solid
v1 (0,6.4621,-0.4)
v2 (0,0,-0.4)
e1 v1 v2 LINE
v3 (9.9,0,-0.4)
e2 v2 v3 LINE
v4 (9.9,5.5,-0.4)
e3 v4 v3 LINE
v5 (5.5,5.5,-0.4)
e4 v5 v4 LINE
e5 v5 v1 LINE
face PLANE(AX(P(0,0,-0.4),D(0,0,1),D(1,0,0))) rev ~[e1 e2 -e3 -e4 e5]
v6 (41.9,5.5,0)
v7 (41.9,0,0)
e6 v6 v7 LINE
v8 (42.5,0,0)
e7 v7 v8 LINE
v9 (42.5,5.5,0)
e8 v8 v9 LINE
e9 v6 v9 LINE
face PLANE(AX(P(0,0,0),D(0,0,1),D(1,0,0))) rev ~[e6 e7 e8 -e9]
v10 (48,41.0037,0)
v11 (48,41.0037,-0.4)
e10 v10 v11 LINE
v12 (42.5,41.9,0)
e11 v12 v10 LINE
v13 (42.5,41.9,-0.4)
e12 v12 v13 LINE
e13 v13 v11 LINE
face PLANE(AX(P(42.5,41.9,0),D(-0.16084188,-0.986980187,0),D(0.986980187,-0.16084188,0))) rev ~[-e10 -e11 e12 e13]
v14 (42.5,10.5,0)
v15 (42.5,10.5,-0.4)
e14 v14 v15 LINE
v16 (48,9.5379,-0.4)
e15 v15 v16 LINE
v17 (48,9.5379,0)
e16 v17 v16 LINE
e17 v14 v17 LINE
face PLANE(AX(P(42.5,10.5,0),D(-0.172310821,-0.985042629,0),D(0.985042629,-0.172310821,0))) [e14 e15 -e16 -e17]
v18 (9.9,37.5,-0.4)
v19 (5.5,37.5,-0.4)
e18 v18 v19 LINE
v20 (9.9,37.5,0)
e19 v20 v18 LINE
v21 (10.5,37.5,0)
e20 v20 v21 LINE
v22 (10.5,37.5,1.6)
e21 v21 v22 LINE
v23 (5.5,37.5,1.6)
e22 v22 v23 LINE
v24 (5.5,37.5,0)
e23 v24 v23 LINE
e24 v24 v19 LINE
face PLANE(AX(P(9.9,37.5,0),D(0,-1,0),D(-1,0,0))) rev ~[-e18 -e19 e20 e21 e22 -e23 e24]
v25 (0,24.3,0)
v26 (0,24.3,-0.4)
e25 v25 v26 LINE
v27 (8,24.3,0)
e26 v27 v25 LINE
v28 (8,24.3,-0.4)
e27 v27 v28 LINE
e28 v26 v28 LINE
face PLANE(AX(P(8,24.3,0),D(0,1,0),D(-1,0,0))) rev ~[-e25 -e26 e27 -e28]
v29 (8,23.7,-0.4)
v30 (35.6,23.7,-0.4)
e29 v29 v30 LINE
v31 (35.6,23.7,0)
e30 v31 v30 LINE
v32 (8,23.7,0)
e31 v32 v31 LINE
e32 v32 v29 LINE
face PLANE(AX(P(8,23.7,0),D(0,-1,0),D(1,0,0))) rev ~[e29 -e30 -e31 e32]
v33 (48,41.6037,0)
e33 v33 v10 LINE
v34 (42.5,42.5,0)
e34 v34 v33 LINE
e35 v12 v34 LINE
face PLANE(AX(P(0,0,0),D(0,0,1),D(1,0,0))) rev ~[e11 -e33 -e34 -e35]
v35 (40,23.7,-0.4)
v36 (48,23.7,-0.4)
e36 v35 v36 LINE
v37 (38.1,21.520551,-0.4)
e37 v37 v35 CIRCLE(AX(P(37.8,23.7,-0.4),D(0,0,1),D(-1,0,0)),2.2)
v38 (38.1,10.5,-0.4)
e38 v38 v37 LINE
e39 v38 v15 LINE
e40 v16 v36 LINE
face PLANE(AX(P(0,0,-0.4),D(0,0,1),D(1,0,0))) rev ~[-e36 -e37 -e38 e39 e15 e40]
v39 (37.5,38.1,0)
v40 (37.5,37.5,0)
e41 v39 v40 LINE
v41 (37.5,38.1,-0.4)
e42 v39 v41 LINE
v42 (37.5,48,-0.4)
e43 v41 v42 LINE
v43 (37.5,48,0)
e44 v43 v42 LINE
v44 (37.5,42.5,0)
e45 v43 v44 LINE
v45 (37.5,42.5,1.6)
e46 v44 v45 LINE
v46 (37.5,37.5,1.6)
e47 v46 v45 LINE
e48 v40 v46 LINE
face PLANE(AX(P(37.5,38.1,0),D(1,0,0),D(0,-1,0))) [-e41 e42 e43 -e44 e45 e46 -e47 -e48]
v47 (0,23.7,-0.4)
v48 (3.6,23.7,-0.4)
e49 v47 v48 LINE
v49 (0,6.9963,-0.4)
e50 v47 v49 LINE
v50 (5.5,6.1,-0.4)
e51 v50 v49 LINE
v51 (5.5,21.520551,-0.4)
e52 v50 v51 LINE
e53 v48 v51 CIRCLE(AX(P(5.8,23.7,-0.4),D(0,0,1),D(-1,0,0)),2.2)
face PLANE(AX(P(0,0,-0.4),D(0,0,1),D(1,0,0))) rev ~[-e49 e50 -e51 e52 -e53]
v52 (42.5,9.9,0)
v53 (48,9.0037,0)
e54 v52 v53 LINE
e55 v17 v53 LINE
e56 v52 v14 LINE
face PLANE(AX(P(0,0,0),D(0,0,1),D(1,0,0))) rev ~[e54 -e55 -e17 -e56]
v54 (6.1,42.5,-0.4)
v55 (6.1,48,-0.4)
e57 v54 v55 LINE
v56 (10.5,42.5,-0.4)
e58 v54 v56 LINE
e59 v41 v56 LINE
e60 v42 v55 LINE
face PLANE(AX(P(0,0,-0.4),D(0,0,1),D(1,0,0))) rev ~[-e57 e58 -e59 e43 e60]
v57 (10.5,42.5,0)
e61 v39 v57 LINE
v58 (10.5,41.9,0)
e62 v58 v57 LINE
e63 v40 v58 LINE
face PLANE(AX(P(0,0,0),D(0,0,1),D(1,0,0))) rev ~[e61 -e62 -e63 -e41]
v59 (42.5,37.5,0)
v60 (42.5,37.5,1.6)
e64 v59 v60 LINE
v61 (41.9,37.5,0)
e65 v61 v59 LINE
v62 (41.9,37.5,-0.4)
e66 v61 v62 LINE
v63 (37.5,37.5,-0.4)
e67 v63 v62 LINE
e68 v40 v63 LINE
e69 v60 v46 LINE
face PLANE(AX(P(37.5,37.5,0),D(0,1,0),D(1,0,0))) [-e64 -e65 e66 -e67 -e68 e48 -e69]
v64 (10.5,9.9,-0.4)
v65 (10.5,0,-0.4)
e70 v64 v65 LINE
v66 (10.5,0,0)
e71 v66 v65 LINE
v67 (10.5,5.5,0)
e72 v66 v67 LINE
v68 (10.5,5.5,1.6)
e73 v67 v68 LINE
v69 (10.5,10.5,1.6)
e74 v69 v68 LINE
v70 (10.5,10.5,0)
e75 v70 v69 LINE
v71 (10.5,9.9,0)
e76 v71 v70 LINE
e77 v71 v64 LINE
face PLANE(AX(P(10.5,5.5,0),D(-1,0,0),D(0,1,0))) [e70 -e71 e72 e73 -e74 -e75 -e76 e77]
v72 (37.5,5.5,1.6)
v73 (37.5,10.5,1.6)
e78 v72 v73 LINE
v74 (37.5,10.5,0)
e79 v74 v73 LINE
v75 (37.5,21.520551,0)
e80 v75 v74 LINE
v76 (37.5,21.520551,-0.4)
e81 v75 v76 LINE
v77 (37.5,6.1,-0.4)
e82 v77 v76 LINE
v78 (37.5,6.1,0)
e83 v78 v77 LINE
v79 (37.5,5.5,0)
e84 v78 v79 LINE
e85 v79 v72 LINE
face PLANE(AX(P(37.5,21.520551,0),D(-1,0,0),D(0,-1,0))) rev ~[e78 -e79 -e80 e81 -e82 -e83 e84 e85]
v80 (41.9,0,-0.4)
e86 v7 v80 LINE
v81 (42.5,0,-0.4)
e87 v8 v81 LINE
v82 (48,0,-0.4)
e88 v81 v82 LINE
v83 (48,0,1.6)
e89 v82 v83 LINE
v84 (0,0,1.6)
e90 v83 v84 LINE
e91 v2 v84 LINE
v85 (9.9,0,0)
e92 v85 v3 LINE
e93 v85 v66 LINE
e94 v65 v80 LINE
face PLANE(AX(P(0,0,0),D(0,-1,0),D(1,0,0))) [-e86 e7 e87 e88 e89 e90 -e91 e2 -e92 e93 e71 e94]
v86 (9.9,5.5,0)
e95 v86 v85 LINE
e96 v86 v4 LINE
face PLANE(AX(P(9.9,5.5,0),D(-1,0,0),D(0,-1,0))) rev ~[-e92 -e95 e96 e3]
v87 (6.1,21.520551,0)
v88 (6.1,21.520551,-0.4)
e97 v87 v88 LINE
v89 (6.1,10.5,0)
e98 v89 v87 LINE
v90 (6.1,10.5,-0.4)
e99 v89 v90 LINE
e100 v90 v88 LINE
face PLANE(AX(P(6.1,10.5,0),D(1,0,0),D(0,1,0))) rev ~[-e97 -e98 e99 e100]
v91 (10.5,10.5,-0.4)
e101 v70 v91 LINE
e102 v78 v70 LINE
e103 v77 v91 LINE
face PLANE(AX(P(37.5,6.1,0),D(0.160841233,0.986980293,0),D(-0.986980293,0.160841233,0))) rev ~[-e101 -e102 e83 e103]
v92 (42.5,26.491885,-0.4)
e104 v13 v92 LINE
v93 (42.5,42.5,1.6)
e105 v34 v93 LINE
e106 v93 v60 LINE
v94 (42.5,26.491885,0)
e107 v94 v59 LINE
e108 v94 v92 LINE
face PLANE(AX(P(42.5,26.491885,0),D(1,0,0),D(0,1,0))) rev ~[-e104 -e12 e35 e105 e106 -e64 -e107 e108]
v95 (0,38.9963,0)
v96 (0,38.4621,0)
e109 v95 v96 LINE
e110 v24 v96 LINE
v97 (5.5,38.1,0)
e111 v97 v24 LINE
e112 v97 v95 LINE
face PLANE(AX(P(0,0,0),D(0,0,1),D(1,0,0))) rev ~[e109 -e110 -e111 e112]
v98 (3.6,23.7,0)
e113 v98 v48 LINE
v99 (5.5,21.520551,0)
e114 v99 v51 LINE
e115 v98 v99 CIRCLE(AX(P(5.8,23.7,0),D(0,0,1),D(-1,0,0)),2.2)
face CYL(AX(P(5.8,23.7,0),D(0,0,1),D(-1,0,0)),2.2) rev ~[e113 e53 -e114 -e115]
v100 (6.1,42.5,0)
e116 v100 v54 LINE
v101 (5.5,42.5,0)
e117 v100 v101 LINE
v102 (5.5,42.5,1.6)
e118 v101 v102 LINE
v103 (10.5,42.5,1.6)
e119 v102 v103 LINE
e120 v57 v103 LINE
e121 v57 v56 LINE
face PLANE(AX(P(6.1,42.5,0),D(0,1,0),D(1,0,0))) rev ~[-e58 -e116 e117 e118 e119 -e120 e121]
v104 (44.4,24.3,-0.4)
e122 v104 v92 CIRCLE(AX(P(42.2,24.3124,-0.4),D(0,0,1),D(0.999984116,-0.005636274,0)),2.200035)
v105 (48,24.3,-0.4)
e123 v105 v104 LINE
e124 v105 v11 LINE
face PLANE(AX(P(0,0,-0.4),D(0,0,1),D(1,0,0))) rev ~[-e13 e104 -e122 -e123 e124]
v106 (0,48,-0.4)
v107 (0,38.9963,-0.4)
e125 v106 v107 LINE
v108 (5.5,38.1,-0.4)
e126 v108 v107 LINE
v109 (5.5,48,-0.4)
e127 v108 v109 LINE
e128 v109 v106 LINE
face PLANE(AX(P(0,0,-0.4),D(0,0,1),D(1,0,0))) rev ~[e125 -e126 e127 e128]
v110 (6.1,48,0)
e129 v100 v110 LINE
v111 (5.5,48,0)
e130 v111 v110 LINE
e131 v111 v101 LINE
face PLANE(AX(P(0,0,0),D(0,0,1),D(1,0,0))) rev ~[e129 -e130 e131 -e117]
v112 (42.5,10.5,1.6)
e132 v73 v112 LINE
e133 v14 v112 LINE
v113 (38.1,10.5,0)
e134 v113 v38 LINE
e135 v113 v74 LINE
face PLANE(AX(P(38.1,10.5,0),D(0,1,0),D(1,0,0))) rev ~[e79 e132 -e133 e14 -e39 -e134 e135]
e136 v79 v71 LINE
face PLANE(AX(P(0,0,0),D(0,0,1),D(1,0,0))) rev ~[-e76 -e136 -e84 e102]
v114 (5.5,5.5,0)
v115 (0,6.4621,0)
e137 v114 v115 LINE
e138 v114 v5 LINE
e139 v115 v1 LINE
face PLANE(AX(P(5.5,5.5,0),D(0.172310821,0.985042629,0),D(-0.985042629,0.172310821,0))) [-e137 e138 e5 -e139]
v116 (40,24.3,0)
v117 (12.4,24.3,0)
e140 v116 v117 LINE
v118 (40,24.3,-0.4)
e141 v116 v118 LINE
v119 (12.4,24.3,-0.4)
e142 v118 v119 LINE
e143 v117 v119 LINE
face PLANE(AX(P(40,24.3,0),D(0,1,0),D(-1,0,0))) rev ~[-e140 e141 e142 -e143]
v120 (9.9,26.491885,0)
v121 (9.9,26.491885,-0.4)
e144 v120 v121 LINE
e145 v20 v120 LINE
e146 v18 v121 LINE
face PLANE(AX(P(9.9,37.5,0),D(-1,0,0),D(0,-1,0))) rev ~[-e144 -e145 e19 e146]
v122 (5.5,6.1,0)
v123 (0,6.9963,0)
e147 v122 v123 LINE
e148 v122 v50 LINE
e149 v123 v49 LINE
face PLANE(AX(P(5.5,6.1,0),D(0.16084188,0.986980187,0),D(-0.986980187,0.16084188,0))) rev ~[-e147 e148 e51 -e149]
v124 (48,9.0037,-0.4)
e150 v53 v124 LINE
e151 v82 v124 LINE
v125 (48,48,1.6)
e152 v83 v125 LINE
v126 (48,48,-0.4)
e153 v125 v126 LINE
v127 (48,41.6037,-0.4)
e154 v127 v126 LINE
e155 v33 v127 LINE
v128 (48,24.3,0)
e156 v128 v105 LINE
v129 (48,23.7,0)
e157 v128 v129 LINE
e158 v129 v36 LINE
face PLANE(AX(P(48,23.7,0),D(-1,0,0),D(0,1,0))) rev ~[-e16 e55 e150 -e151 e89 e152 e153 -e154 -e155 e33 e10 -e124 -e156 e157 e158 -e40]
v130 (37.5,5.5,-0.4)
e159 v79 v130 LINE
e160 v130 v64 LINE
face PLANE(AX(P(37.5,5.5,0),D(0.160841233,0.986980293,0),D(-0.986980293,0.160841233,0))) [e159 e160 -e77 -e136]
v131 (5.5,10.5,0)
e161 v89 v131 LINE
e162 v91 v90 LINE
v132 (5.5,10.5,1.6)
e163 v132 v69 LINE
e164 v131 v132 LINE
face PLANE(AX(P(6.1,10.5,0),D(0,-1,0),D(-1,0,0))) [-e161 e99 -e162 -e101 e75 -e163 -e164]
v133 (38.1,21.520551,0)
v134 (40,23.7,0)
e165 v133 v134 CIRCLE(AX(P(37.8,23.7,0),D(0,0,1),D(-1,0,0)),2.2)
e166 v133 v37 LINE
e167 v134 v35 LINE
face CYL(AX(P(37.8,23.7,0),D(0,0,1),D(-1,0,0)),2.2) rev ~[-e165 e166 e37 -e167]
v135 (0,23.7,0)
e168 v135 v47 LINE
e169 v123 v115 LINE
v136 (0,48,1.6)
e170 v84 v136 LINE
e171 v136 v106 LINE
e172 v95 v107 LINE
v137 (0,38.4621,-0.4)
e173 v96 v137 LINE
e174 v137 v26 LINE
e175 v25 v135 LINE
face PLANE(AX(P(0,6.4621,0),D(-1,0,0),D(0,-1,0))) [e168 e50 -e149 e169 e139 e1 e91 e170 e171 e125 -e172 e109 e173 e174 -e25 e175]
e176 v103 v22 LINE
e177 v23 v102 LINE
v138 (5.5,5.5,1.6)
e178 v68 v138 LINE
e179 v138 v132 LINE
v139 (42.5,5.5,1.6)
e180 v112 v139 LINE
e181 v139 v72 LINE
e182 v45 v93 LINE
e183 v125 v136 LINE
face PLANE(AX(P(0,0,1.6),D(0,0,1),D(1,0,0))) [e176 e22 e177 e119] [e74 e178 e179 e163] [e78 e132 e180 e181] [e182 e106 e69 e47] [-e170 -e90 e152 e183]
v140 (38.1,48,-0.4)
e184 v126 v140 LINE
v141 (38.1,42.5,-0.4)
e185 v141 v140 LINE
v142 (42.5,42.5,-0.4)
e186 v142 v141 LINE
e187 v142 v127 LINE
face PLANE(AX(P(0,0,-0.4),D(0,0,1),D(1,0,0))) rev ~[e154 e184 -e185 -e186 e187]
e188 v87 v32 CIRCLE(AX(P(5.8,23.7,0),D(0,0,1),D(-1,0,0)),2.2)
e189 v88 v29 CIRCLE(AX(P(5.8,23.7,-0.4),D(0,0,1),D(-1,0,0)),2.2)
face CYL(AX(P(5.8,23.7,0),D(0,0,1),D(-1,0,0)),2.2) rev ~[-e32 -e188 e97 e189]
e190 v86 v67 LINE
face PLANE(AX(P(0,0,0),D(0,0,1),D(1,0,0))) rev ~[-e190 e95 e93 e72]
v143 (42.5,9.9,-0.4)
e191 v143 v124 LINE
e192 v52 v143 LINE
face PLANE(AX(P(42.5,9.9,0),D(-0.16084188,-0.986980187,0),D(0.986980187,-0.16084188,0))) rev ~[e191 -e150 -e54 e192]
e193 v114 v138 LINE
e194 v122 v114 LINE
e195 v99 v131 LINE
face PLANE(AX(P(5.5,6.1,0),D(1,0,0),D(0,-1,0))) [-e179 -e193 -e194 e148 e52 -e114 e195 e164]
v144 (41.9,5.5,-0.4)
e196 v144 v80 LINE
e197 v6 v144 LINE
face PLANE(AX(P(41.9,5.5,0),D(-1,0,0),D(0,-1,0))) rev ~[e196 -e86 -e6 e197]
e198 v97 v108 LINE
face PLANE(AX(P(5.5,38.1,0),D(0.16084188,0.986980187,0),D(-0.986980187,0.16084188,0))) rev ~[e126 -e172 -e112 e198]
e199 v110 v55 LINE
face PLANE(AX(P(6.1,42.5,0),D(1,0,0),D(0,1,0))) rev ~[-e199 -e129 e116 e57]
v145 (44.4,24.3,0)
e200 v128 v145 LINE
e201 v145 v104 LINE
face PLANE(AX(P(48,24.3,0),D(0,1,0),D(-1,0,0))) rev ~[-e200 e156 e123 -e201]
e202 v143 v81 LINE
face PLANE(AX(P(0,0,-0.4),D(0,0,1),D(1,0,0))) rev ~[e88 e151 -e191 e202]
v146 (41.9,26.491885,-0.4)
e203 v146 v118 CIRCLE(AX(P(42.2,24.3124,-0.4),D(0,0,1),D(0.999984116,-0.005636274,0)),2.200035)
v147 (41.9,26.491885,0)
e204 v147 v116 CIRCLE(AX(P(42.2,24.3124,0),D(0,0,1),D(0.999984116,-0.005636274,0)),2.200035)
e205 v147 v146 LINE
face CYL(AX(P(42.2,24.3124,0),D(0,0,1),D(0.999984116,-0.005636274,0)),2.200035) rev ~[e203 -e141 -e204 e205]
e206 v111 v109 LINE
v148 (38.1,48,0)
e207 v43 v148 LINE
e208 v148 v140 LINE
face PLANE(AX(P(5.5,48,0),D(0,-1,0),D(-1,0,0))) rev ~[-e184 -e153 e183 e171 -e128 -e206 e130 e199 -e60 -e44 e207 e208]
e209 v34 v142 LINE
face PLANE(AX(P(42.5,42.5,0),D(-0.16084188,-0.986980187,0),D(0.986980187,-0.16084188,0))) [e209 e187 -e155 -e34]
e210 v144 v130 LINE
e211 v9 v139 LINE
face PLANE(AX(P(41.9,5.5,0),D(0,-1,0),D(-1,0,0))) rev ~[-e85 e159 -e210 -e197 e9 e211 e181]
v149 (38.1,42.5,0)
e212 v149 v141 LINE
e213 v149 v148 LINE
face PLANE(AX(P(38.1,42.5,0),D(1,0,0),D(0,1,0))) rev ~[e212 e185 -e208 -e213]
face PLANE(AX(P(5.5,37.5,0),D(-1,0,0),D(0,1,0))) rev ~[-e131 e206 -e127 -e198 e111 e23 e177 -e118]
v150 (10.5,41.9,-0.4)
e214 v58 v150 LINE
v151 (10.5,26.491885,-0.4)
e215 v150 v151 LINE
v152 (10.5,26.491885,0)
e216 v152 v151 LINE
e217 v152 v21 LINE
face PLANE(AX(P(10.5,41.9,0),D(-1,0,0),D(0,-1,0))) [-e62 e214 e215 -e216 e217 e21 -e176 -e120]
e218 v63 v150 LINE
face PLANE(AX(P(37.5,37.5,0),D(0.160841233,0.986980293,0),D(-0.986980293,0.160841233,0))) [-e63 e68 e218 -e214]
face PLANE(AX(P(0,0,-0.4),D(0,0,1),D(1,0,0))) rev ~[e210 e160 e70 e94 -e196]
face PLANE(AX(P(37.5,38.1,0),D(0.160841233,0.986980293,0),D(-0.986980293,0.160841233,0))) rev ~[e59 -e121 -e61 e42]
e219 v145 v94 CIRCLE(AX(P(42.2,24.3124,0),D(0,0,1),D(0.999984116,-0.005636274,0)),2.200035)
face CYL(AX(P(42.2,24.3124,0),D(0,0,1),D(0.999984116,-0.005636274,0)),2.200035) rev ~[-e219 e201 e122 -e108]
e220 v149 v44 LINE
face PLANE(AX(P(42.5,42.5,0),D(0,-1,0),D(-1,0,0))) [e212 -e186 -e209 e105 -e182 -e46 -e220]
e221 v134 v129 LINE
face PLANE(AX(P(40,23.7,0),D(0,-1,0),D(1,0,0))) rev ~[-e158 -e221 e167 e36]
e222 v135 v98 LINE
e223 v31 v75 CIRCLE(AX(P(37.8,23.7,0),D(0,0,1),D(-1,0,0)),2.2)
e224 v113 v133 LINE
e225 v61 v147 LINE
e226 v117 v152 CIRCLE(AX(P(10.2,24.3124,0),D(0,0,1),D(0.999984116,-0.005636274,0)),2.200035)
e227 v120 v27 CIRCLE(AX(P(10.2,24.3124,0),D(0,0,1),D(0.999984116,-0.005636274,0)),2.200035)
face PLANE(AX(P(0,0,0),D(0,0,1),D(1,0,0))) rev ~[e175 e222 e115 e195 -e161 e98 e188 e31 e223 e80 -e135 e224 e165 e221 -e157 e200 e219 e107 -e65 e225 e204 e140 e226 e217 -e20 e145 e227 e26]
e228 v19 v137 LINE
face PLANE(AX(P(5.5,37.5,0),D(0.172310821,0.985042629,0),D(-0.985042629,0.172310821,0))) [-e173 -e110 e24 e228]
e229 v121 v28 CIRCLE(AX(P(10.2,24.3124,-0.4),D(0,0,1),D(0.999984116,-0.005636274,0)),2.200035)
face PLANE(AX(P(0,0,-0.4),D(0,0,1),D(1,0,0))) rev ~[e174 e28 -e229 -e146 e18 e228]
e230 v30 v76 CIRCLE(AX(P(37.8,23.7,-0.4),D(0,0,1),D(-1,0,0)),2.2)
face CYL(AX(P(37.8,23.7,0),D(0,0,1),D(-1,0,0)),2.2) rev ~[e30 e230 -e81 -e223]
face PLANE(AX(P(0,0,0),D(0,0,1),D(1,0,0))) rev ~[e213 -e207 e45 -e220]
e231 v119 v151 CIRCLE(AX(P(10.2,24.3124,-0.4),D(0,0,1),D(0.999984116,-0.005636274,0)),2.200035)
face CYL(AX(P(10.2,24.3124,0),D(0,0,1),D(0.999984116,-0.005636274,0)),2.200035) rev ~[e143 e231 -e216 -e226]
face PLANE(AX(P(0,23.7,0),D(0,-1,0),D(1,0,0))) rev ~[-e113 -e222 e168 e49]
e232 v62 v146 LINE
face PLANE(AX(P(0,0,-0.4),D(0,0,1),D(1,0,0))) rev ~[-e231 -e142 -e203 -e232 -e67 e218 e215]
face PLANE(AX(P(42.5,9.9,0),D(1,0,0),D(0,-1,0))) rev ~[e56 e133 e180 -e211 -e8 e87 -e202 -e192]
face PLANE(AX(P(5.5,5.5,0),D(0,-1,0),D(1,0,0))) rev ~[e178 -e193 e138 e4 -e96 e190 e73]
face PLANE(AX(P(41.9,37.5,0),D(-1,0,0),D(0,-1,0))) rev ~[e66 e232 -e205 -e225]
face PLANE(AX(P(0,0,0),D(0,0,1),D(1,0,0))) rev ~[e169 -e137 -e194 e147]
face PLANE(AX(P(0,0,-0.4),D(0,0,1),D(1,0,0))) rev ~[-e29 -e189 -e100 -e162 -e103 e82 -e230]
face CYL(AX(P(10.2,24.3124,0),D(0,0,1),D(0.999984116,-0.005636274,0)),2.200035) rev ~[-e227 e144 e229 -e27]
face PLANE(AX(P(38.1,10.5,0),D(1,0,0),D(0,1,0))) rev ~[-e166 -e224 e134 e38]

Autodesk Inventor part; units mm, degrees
ref_plane "YZ Plane" through (0, 0, 0) normal (1, 0, 0) x (0, 1, 0)
ref_plane "XZ Plane" through (0, 0, 0) normal (0, 1, 0) x (-1, 0, 0)
ref_plane "XY Plane" through (0, 0, 0) normal (0, 0, 1) x (1, 0, 0)
sketch "Sketch1" plane through (0, 0, 0) normal (0, 0, 1) x (1, 0, 0)
  line L0 (0, 0) -> (48, 0)
  line L1 (48, 0) -> (48, 48)
  line L2 (48, 48) -> (0, 48)
  line L3 (0, 48) -> (0, 0)
  line L4 (10.5, 10.5) -> (5.5, 10.5)
  line L5 (5.5, 10.5) -> (5.5, 5.5)
  line L6 (5.5, 5.5) -> (10.5, 5.5)
  line L7 (10.5, 5.5) -> (10.5, 10.5)
  line L8 (10.5, 10.5) -> (5.5, 5.5) construction
  line L9 (5.5, 10.5) -> (10.5, 5.5) construction
  line L10 (5.5, 42.5) -> (10.5, 42.5)
  line L11 (10.5, 42.5) -> (10.5, 37.5)
  line L12 (10.5, 37.5) -> (5.5, 37.5)
  line L13 (5.5, 37.5) -> (5.5, 42.5)
  line L14 (5.5, 42.5) -> (10.5, 37.5) construction
  line L15 (10.5, 42.5) -> (5.5, 37.5) construction
  line L16 (42.5, 5.5) -> (37.5, 5.5)
  line L17 (37.5, 5.5) -> (37.5, 10.5)
  line L18 (37.5, 10.5) -> (42.5, 10.5)
  line L19 (42.5, 10.5) -> (42.5, 5.5)
  line L20 (42.5, 5.5) -> (37.5, 10.5) construction
  line L21 (37.5, 5.5) -> (42.5, 10.5) construction
  line L22 (42.5, 42.5) -> (37.5, 42.5)
  line L23 (37.5, 42.5) -> (37.5, 37.5)
  line L24 (37.5, 37.5) -> (42.5, 37.5)
  line L25 (42.5, 37.5) -> (42.5, 42.5)
  line L26 (42.5, 42.5) -> (37.5, 37.5) construction
  line L27 (37.5, 42.5) -> (42.5, 37.5) construction
  line L28 (37.5, 5.5) -> (37.5, 6.1)
  line L29 (37.5, 6.1) -> (10.5, 10.5)
  line L30 (37.5, 5.5) -> (10.5, 9.9)
  line L31 (37.5, 37.5) -> (37.5, 38.1)
  line L32 (37.5, 38.1) -> (10.5, 42.5)
  line L33 (37.5, 37.5) -> (10.5, 41.9)
  line L34 (0, 24) -> (0, 23.7)
  line L35 (0, 23.7) -> (48, 23.7)
  line L36 (48, 23.7) -> (48, 24.3)
  line L37 (48, 24.3) -> (0, 24.3)
  line L38 (0, 24.3) -> (0, 23.7)
  line L39 (5.5, 10.5) -> (6.1, 10.5)
  line L40 (6.1, 10.5) -> (6.1, 23.7)
  line L41 (6.1, 23.7) -> (5.5, 23.7)
  line L42 (5.5, 23.7) -> (5.5, 10.5)
  line L43 (10.5, 37.5) -> (9.9, 37.5)
  line L44 (9.9, 37.5) -> (9.9, 24.3)
  line L45 (9.9, 24.3) -> (10.5, 24.3)
  line L46 (10.5, 24.3) -> (10.5, 37.5)
  line L47 (37.5, 10.5) -> (38.1, 10.5)
  line L48 (38.1, 10.5) -> (38.1, 23.7)
  line L49 (38.1, 23.7) -> (37.5, 23.7)
  line L50 (37.5, 23.7) -> (37.5, 10.5)
  line L51 (42.5, 37.5) -> (41.9, 37.5)
  line L52 (41.9, 37.5) -> (41.9, 24.3)
  line L53 (41.9, 24.3) -> (42.5, 24.3)
  line L54 (42.5, 24.3) -> (42.5, 37.5)
  line L55 (10.5, 5.5) -> (9.9, 5.5)
  line L56 (9.9, 5.5) -> (9.9, 0)
  line L57 (9.9, 0) -> (10.5, 0)
  line L58 (10.5, 0) -> (10.5, 5.5)
  line L59 (42.5, 5.5) -> (41.9, 5.5)
  line L60 (41.9, 5.5) -> (41.9, 0)
  line L61 (41.9, 0) -> (42.5, 0)
  line L62 (42.5, 0) -> (42.5, 5.5)
  line L63 (37.5, 42.5) -> (38.1, 42.5)
  line L64 (38.1, 42.5) -> (38.1, 48)
  line L65 (38.1, 48) -> (37.5, 48)
  line L66 (37.5, 48) -> (37.5, 42.5)
  line L67 (5.5, 42.5) -> (6.1, 42.5)
  line L68 (6.1, 42.5) -> (6.1, 48)
  line L69 (6.1, 48) -> (5.5, 48)
  line L70 (5.5, 48) -> (5.5, 42.5)
  line L71 (5.5, 37.5) -> (0, 38.4621)
  line L72 (5.5, 37.5) -> (11.0835, 37.5) construction
  line L73 (5.5, 37.5) -> (5.5, 38.1)
  line L74 (5.5, 38.1) -> (0, 38.9963)
  line L75 (5.5, 5.5) -> (0, 6.4621)
  line L76 (5.5, 5.5) -> (11.0835, 5.5) construction
  line L77 (5.5, 5.5) -> (5.5, 6.1)
  line L78 (5.5, 6.1) -> (0, 6.9963)
  line L79 (42.5, 10.5) -> (48, 9.5379)
  line L80 (42.5, 10.5) -> (48.0835, 10.5) construction
  line L81 (42.5, 10.5) -> (42.5, 9.9)
  line L82 (42.5, 9.9) -> (48, 9.0037)
  line L83 (42.5, 42.5) -> (48, 41.6037)
  line L84 (42.5, 42.5) -> (42.5, 41.9)
  line L85 (42.5, 41.9) -> (48, 41.0037)
  line L86 (6.1, 24.3) -> (9.9, 24.3)
  line L87 (10.5, 24.3) -> (12.4, 24.3)
  arc A0 (12.4, 24.3) -> (8, 24.3) centre (10.2, 24.3124) ccw
  line L88 (5.5, 23.7) -> (3.6, 23.7)
  arc A1 (3.6, 23.7) -> (8, 23.7) centre (5.8, 23.7) ccw
  line L89 (41.9, 24.3) -> (40, 24.3)
  line L90 (42.5, 24.3) -> (44.4, 24.3)
  line L91 (37.5, 23.7) -> (35.6, 23.7)
  arc A2 (35.6, 23.7) -> (40, 23.7) centre (37.8, 23.7) ccw
  arc A3 (44.4, 24.3) -> (40, 24.3) centre (42.2, 24.3124) ccw
  point P0 (8, 24.3)
  point P1 (9.9, 26.4919)
  point P2 (41.9, 26.4919)
  point P3 (10.5, 26.4919)
  point P4 (42.5, 26.4919)
  point P5 (38.1, 21.5205)
  point P6 (37.5, 21.5206)
  point P7 (6.1, 21.5205)
  point P8 (5.5, 21.5206)
  dimension "d33" = 48
  dimension "d34" = 48
  dimension "d38" = 5
  dimension "d39" = 5
  dimension "d40" = 5
  dimension "d41" = 5
  dimension "d45" = 5
  dimension "d46" = 5
  dimension "d47" = 5
  dimension "d48" = 5
  dimension "d49" = 32
  dimension "d50" = 32
  dimension "d51" = 32
  dimension "d52" = 32
  dimension "d53" = 0.6
  dimension "d54" = 0.6
  dimension "d55" = 0.3
  dimension "d56" = 0.6
  dimension "d57" = 0.6
  dimension "d58" = 0.6
  dimension "d59" = 0.6
  dimension "d60" = 0.6
  dimension "d61" = 0.6
  dimension "d62" = 0.6
  dimension "d63" = 0.6
  dimension "d64" = 0.6
  dimension "d65" = 170.078
  dimension "d66" = 0.6
  dimension "d67" = 170.078
  dimension "d68" = 0.6
  dimension "d69" = 9.922
  dimension "d70" = 0.6
  dimension "d71" = 0.6
  dimension "d72" = 1.9
  dimension "d73" = 1.9
  dimension "d74" = 1.9
  dimension "d75" = 1.9
  dimension "d76" = 1.9
  dimension "d77" = 1.9
extrude "Extrusion1" add sketch "Sketch1" against normal blind 0.4 contours L3 L75 L6 L56 L0 | L58 L7 L30 L16 L60 L0 | L3 L35 A1 L42 L5 L78 | L62 L19 L82 L1 L0 | L4 L40 A1 L35 A2 L50 L17 L29 | L3 L71 L12 L44 A0 L37 | L79 L18 L48 A2 L35 L1 | L3 L2 L70 L13 L74 | L37 A3 L54 L25 L85 L1 | L11 L33 L24 L52 A3 L37 A0 L46 | L2 L66 L23 L32 L10 L68 | L83 L22 L64 L2 L1
extrude "Extrusion2" add sketch "Sketch1" along normal blind 1.6 contours L3 L75 L6 L56 L0 | L56 L6 L58 L0 | L3 L78 L5 L75 | L58 L7 L30 L16 L60 L0 | L3 L35 A1 L42 L5 L78 | L60 L16 L62 L0 | L3 L37 L1 L35 | L62 L19 L82 L1 L0 | L7 L29 L17 L30 | L35 L42 A1 | L42 A1 L40 L4 | L4 L40 A1 L35 A2 L50 L17 L29 | L3 L71 L12 L44 A0 L37 | L35 L40 A1 L42 | L82 L19 L79 L1 | L3 L74 L13 L71 | L35 A1 L40 | L79 L18 L48 A2 L35 L1 | L50 A2 L48 L18 | L3 L2 L70 L13 L74 | A0 L44 L37 | A2 L35 L50 | L50 L35 L48 A2 | L12 L46 A0 L44 | L44 A0 L46 L37 | L37 A3 L54 L25 L85 L1 | A2 L48 L35 | L2 L68 L10 L70 | L11 L33 L24 L52 A3 L37 A0 L46 | L46 A0 L37 | L85 L25 L83 L1 | L37 L54 A3 | L2 L66 L23 L32 L10 L68 | L11 L32 L23 L33 | L83 L22 L64 L2 L1 | L37 L52 A3 L54 | A3 L52 L24 L54 | L2 L64 L22 L66 | A3 L52 L37
properties part number "LED Position"
